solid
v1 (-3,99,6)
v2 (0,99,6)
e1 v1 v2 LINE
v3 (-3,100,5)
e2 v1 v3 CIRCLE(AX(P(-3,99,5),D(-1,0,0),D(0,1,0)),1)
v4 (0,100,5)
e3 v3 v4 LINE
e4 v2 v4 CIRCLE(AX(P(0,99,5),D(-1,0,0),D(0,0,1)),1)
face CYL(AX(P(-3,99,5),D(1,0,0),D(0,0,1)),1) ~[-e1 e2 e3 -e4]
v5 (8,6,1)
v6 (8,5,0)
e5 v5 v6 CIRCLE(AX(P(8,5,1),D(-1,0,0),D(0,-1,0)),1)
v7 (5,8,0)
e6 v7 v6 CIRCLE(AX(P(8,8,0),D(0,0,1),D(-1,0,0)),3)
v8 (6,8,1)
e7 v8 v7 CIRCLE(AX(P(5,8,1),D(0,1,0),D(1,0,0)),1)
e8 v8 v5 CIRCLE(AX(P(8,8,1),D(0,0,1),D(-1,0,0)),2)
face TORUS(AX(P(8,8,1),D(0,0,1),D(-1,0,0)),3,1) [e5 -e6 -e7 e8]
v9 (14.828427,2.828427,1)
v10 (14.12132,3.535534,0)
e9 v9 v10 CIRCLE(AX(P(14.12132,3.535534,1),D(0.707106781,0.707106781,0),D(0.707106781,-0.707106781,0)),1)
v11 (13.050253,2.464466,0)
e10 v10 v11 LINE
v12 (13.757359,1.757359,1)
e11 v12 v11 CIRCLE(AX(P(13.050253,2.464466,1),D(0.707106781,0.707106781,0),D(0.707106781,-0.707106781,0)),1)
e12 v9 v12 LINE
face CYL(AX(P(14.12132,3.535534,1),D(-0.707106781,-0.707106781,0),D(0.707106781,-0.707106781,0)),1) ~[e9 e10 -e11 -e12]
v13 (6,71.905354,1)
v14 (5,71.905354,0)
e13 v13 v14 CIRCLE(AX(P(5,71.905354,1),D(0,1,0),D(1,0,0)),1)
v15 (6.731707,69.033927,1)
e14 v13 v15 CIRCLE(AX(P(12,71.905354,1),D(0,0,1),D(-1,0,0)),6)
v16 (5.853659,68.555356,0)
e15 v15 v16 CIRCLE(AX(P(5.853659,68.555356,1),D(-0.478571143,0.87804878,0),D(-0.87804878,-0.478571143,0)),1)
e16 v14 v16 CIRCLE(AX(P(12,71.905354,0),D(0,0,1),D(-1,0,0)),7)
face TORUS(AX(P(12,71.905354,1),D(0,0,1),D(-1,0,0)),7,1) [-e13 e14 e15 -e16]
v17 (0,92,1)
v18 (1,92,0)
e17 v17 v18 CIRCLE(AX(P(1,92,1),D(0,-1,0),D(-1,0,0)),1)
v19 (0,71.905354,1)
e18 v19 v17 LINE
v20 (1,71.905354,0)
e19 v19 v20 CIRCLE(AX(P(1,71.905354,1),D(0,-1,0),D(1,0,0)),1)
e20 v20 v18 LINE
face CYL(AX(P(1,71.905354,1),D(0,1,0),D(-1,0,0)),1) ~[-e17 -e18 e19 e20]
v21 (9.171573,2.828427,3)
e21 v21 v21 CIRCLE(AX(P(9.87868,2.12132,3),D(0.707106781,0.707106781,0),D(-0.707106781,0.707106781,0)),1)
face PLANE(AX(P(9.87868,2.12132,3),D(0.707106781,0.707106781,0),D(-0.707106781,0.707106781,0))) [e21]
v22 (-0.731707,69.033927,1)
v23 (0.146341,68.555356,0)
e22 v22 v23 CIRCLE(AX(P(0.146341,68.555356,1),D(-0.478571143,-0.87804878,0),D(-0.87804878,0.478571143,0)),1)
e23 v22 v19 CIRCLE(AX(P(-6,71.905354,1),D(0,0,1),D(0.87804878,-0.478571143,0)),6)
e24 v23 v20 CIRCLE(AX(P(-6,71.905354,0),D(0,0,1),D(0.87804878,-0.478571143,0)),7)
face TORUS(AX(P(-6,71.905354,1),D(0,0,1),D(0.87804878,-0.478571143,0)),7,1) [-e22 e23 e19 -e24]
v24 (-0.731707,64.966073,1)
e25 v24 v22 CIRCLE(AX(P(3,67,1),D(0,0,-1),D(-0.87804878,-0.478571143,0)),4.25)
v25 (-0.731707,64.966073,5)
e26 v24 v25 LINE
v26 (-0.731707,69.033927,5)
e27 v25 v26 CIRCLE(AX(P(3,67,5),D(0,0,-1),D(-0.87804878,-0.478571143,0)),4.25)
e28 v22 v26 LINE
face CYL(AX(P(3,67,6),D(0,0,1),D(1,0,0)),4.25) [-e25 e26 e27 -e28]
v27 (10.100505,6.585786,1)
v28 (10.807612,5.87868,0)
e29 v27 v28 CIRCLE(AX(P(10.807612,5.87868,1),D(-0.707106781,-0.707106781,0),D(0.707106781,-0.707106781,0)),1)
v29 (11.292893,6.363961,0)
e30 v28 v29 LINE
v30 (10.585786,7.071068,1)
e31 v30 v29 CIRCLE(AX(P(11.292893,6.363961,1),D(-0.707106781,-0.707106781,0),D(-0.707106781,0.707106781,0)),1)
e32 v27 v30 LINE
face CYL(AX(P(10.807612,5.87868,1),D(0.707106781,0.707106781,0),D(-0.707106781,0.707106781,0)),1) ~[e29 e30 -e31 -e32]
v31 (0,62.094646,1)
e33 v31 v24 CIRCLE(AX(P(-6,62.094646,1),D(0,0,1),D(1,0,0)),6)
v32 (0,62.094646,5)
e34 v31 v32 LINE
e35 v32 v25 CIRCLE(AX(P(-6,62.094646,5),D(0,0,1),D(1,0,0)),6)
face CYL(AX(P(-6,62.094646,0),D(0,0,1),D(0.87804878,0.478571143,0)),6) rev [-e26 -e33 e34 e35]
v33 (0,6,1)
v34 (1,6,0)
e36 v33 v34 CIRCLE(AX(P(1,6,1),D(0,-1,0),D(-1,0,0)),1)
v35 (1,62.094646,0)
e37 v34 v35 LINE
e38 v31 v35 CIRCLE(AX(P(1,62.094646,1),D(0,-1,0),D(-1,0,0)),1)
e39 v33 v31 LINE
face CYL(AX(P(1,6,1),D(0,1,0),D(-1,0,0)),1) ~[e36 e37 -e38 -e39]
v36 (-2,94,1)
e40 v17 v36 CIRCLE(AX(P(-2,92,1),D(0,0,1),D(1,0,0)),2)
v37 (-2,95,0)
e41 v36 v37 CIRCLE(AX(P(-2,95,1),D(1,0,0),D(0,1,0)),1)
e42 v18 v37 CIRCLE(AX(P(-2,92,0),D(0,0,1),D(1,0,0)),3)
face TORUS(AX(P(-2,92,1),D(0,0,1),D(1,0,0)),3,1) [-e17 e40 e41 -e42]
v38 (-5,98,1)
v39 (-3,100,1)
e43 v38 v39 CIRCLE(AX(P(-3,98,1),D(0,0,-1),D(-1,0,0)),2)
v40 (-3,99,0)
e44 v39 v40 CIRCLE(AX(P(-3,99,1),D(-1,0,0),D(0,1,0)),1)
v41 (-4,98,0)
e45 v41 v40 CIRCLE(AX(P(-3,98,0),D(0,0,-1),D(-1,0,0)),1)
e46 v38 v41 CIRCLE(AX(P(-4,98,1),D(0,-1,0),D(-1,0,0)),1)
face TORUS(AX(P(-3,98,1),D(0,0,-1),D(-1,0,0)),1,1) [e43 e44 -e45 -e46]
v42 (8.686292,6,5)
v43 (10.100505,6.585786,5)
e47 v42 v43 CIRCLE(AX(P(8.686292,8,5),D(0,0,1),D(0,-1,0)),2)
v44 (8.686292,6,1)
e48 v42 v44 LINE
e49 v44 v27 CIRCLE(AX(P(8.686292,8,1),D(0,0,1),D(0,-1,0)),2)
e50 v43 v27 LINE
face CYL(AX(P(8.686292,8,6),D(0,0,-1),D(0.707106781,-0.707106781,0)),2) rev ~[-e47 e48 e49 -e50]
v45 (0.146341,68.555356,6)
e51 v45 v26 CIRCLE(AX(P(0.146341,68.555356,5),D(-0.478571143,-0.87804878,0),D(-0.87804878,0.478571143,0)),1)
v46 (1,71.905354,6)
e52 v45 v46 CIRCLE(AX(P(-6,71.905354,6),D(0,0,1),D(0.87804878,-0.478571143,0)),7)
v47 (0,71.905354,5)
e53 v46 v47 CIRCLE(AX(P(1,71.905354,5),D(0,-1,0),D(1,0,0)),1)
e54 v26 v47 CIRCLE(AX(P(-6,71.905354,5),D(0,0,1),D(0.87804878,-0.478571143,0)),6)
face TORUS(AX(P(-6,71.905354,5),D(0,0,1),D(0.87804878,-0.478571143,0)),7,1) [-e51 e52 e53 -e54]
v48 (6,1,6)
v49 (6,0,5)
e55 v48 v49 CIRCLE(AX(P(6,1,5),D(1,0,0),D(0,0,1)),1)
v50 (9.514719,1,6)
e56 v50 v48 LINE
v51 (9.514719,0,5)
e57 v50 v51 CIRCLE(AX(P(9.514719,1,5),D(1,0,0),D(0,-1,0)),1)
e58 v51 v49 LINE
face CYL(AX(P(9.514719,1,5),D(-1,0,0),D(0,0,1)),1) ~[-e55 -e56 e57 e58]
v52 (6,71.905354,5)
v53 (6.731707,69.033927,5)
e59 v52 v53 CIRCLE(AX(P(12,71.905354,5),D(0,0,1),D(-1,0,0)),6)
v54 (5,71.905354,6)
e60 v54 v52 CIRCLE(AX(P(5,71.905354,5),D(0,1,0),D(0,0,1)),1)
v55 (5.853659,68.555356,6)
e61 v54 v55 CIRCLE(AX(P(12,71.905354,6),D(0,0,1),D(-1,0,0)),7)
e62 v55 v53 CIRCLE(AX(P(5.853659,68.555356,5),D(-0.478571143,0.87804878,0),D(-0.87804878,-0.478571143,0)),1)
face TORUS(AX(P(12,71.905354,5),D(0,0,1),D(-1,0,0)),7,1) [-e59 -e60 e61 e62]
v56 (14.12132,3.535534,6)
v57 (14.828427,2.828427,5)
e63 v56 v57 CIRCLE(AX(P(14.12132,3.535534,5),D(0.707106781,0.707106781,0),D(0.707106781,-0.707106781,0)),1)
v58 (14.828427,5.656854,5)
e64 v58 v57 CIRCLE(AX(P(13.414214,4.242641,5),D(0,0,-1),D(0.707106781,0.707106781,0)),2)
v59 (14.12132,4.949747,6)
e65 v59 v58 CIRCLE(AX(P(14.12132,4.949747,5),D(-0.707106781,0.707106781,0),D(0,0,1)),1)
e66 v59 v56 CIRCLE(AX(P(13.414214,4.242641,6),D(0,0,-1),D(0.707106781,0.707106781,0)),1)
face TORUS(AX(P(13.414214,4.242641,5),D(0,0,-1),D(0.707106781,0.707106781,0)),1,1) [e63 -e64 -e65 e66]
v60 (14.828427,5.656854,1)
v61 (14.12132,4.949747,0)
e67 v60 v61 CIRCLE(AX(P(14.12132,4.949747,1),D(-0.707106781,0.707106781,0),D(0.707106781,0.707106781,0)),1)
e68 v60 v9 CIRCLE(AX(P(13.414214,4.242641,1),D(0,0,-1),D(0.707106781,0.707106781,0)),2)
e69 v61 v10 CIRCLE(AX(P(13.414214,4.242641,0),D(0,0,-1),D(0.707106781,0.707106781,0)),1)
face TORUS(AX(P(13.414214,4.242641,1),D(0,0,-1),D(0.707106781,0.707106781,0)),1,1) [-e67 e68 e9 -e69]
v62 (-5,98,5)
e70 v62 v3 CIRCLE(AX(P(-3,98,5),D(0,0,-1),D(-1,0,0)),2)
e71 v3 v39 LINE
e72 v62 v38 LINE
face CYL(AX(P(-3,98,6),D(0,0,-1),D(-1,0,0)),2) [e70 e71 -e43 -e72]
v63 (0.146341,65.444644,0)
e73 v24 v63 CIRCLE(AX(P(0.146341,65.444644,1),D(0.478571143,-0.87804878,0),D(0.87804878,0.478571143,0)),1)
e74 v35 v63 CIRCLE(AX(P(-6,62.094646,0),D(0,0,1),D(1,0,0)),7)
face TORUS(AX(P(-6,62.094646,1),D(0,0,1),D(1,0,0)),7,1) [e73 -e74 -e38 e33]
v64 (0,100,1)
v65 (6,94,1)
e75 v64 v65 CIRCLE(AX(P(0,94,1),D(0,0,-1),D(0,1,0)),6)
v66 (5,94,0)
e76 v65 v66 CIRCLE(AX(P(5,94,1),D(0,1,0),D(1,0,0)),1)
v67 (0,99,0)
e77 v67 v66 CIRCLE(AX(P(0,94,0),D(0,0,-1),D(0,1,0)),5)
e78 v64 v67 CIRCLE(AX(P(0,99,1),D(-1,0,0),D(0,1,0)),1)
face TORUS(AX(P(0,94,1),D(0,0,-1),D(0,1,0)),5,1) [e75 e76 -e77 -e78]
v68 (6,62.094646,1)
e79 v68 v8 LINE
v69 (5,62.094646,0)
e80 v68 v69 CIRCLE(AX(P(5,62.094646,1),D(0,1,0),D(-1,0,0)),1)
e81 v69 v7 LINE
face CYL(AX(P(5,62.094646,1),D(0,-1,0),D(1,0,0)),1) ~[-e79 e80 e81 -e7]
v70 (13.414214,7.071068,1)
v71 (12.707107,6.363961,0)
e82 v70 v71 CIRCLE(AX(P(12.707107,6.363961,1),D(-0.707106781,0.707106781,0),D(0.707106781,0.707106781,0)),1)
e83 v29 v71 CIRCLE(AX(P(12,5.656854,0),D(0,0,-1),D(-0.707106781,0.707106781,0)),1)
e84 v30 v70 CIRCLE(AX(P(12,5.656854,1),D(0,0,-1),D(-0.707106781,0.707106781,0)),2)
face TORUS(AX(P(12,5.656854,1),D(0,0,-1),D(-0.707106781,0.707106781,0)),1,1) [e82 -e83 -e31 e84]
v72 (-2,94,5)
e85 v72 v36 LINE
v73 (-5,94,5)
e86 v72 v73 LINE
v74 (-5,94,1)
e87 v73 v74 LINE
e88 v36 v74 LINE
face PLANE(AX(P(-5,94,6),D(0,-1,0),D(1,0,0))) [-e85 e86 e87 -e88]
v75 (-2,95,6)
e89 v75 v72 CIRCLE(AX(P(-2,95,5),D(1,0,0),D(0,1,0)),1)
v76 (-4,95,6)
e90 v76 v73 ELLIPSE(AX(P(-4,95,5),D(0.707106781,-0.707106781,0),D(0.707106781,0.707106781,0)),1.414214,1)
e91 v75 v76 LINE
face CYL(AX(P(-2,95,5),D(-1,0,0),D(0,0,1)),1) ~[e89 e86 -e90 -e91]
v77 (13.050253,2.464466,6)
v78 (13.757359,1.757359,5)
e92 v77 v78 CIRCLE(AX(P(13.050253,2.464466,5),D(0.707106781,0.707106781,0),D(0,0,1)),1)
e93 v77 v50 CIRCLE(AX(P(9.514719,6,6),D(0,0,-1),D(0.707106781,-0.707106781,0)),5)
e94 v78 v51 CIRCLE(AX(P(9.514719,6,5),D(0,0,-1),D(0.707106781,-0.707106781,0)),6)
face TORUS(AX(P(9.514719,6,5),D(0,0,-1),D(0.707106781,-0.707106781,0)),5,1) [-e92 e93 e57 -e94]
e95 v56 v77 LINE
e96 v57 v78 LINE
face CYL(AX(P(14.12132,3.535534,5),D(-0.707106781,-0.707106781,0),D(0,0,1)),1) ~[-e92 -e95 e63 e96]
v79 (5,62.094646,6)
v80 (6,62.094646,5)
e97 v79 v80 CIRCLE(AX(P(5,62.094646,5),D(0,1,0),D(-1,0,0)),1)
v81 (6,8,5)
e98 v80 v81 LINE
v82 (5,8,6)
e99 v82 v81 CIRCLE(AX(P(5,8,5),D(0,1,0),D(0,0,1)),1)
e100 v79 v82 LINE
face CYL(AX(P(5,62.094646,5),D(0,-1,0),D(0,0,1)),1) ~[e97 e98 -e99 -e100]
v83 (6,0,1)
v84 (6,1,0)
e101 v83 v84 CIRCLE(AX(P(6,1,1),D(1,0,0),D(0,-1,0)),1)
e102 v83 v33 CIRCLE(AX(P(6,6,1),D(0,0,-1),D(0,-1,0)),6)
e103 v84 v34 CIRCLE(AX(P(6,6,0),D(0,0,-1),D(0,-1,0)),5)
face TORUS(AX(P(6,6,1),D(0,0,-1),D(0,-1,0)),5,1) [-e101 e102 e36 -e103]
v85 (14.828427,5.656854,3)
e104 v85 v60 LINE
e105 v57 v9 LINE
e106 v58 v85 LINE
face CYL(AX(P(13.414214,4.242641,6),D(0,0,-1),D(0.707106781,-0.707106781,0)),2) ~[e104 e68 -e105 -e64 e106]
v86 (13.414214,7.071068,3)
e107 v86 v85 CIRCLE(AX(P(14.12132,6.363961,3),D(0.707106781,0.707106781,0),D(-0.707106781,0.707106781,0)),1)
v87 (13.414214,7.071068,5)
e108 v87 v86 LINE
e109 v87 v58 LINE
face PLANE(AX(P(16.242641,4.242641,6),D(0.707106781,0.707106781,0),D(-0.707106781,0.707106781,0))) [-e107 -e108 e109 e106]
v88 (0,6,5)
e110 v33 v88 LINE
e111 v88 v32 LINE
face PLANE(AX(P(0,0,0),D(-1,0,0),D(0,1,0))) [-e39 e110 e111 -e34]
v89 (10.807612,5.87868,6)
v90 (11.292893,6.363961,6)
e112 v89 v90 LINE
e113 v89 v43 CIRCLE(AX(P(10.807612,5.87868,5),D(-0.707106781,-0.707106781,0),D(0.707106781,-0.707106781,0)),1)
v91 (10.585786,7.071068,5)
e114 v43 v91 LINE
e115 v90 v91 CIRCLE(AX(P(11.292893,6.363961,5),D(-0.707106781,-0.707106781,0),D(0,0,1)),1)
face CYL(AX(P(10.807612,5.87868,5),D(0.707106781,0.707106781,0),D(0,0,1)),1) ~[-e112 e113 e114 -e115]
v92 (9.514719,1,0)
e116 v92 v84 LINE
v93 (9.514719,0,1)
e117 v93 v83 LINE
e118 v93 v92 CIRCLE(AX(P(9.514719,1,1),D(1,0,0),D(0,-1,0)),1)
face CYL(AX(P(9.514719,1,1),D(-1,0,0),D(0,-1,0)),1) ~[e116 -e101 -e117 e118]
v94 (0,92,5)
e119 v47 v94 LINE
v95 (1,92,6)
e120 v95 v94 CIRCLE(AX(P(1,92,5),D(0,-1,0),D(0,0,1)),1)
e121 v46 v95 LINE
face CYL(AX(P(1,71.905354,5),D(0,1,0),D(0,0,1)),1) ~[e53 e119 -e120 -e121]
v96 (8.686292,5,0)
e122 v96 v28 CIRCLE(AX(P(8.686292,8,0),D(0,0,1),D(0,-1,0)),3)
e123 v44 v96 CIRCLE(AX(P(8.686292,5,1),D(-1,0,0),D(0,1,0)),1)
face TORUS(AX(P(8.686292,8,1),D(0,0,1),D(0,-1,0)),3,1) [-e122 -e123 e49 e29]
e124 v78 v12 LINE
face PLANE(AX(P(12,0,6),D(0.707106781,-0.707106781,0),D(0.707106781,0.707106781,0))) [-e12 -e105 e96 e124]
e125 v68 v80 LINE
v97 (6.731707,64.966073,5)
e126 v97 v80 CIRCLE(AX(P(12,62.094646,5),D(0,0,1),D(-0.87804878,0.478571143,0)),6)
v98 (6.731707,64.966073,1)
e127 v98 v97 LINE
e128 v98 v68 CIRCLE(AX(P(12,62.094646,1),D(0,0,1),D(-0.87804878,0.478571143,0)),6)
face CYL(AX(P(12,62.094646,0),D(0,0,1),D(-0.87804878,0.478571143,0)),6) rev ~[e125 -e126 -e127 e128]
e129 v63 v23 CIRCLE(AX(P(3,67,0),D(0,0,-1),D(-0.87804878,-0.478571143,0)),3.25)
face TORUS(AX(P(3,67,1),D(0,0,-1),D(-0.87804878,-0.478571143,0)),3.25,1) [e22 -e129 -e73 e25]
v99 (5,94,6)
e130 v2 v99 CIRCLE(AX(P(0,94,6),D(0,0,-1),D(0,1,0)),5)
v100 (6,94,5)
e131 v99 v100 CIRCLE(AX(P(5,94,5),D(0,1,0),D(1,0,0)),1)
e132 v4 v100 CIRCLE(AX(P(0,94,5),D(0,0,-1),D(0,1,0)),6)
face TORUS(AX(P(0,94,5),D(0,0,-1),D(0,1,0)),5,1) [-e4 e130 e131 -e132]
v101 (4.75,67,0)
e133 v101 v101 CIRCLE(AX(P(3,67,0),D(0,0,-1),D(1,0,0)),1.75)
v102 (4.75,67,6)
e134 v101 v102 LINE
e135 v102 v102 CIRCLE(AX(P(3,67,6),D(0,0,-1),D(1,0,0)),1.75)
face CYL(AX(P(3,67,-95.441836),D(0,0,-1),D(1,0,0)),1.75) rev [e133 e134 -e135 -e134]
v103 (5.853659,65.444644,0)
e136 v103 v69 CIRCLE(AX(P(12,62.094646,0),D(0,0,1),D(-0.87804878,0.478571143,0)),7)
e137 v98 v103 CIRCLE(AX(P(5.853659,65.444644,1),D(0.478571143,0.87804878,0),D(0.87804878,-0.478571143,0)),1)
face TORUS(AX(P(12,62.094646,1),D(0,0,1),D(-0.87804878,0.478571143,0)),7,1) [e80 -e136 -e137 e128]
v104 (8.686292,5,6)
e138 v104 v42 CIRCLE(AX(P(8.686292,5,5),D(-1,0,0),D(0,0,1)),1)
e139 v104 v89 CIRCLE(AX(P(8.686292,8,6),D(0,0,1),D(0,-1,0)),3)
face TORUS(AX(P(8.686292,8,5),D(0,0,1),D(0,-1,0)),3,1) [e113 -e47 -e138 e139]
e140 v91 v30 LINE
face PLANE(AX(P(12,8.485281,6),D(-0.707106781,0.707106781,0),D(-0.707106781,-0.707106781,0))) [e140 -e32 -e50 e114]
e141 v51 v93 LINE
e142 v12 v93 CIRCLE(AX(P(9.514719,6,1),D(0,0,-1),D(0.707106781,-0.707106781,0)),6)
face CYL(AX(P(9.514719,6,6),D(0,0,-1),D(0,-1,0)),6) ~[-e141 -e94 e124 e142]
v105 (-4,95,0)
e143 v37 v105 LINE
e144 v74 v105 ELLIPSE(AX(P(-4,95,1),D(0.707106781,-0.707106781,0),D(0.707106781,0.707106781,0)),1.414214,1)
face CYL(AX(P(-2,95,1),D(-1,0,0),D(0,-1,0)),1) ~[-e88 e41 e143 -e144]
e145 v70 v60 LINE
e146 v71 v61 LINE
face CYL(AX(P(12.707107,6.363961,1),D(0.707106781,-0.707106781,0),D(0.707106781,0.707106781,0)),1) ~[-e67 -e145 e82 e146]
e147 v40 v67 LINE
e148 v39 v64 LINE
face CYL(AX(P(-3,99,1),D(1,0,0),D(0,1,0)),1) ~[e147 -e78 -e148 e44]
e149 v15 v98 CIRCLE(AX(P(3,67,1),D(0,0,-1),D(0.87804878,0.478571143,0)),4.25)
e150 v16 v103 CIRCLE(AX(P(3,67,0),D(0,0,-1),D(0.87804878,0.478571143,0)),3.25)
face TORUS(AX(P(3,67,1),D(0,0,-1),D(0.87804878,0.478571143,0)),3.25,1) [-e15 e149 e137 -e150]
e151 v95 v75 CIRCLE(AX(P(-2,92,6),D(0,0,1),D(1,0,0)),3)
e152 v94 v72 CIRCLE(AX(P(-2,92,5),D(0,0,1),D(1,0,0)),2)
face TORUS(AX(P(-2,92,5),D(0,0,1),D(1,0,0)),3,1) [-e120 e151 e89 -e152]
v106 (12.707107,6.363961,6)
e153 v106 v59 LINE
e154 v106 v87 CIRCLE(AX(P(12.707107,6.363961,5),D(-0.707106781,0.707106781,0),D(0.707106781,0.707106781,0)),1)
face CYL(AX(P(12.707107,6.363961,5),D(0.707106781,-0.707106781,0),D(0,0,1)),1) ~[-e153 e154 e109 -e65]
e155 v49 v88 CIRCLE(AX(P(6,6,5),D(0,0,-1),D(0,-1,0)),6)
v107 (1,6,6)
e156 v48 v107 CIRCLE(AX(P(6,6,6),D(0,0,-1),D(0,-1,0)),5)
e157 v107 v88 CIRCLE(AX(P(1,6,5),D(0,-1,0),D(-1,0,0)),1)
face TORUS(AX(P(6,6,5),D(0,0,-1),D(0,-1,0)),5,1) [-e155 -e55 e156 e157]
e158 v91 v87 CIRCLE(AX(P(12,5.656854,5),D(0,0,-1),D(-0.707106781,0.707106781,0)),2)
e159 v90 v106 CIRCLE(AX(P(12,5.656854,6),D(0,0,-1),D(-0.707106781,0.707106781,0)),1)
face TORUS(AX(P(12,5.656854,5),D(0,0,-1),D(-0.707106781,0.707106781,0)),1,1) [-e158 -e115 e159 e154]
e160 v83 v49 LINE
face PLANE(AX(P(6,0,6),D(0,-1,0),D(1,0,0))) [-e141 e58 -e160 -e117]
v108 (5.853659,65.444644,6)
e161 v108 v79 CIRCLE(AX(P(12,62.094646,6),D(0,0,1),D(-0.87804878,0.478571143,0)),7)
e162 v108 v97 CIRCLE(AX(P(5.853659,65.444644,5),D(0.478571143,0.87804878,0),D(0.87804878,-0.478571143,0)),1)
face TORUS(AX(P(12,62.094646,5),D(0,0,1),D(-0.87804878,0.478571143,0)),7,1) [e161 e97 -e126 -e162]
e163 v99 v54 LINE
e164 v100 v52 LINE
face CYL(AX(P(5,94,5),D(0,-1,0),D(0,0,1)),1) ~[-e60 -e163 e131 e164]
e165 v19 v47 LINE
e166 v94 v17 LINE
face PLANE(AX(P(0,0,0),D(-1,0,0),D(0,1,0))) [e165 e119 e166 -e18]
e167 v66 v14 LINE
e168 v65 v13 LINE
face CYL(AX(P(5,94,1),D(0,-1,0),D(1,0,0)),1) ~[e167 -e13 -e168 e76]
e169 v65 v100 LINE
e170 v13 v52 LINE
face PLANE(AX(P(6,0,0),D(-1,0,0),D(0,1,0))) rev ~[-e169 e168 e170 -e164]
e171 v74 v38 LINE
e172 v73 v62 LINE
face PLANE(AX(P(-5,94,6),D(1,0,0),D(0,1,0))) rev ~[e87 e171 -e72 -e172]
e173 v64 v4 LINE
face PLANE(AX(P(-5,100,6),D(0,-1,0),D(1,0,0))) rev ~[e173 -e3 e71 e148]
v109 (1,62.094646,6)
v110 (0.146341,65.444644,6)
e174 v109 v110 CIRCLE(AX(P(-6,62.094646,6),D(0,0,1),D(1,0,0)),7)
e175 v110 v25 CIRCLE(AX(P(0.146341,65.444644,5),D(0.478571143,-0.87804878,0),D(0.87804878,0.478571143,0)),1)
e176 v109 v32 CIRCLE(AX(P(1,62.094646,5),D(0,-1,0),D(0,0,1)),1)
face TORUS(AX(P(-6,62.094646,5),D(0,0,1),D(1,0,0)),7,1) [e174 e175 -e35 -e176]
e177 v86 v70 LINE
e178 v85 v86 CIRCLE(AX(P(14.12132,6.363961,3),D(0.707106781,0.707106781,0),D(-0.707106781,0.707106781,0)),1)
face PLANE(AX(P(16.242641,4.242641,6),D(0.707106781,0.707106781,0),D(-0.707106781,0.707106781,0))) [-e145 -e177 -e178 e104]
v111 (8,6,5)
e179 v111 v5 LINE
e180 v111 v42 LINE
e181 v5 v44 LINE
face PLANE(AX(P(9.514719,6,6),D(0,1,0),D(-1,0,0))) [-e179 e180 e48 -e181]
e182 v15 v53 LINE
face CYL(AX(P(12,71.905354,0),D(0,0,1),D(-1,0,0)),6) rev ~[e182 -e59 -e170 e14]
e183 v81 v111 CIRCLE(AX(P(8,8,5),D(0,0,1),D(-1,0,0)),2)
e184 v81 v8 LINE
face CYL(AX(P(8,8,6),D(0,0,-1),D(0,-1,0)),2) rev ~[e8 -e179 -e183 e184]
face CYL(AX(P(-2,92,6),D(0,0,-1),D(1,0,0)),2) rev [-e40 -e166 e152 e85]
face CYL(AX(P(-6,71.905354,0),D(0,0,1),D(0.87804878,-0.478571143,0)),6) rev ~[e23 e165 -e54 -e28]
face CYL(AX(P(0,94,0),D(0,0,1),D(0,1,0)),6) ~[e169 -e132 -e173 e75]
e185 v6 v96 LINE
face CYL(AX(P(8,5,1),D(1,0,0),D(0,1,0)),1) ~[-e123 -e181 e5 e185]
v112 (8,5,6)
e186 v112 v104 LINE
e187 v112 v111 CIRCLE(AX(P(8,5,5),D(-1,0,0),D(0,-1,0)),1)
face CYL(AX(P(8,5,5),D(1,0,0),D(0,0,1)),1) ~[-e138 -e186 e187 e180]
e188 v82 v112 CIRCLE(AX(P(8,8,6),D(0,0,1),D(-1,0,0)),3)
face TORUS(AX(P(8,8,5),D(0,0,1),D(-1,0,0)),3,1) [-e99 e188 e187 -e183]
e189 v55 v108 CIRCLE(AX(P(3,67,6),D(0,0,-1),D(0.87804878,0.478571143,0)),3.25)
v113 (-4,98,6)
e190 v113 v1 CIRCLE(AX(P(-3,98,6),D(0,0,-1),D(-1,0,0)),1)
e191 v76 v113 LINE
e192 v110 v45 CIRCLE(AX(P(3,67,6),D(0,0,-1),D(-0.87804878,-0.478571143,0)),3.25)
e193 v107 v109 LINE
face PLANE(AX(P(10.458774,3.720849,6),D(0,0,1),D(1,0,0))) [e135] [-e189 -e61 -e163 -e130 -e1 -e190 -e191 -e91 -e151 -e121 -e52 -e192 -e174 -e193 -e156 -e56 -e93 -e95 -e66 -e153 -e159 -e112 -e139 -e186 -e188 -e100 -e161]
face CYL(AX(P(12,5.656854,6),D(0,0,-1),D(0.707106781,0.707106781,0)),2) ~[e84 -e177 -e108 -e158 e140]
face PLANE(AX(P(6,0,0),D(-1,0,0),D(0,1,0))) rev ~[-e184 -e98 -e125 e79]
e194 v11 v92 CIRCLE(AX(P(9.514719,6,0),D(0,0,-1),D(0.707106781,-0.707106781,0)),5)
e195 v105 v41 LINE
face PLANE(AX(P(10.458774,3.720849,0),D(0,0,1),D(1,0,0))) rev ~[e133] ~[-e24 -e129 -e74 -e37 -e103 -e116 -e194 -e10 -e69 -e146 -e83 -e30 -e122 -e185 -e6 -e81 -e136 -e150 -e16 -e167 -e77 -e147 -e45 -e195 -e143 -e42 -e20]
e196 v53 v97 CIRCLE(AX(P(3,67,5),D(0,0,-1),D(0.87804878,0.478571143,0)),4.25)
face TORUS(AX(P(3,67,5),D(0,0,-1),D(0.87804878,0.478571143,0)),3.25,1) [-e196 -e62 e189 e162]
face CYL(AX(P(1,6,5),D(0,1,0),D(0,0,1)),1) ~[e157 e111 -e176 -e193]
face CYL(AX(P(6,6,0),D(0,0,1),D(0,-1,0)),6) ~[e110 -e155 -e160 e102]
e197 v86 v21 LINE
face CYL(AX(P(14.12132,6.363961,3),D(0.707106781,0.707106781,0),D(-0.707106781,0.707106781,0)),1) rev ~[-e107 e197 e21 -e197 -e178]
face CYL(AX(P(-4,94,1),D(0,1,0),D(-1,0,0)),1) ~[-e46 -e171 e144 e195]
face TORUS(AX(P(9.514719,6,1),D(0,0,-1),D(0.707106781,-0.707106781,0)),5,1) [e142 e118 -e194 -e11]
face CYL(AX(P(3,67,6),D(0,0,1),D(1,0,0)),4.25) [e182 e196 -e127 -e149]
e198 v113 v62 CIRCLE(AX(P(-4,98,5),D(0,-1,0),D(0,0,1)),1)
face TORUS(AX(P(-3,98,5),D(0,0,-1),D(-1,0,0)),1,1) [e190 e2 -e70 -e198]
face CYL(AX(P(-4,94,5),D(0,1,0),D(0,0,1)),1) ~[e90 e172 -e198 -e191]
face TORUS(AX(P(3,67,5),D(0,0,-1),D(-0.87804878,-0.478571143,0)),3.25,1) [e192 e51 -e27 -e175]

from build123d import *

# Parameters (mm, degrees)
ESQUISSE1_W                  = 6
ESQUISSE1_H                  = 100
BOSS_EXTRU_1_DEPTH           = 6
ESQUISSE2_W                  = 5
ESQUISSE2_H                  = 6
BOSS_EXTRU_2_DEPTH           = 6
ESQUISSE3_R                  = 4.25
ESQUISSE3_R_2                = 1.75
BOSS_EXTRU_3_DEPTH           = 6
ENL_V_MAT_EXTRU_1_DEPTH      = 101.441836403
ENL_V_MAT_EXTRU_1_DEPTH_BACK = 101.441836403
ESQUISSE4_R                  = 1.75
BOSS_EXTRU_4_DEPTH           = 6
CONG_1_R                     = 6
CONG_2_R                     = 2
ESQUISSE6_R                  = 1
ENL_V_MAT_EXTRU_3_DEPTH      = 6
CONG_3_R                     = 1


with BuildPart() as part:
    # Esquisse1 → Boss.-Extru.1 (new body)
    with BuildSketch(Plane.XY):
        with Locations((3, 50)):
            Rectangle(ESQUISSE1_W, ESQUISSE1_H)
    extrude(amount=BOSS_EXTRU_1_DEPTH)

    # Esquisse2 → Boss.-Extru.2 (add)
    with BuildSketch(Plane.XY.offset(6)):
        with Locations((-2.5, 97)):
            Rectangle(ESQUISSE2_W, ESQUISSE2_H)
    extrude(amount=-BOSS_EXTRU_2_DEPTH)

    # Esquisse3 → Boss.-Extru.3 (add)
    with BuildSketch(Plane.XY.offset(6)):
        with Locations((3, 67)):
            Circle(ESQUISSE3_R)
        with Locations((3, 67)):
            Circle(ESQUISSE3_R_2, mode=Mode.SUBTRACT)
    extrude(amount=-BOSS_EXTRU_3_DEPTH)

    # Esquisse4 → Enlèv. mat.-Extru.1 (cut, two sides: drawn at the far end of the back side and taken through both)
    with BuildSketch(Plane.XY.offset(6).offset(-ENL_V_MAT_EXTRU_1_DEPTH_BACK)):
        with Locations((3, 67)):
            Circle(ESQUISSE4_R)
    extrude(amount=ENL_V_MAT_EXTRU_1_DEPTH + ENL_V_MAT_EXTRU_1_DEPTH_BACK, mode=Mode.SUBTRACT)

    # Esquisse5 → Boss.-Extru.4 (add)
    with BuildSketch(Plane.XY.offset(6)):
        Polygon((6, 0), (12, 0), (16.242640687, 4.242640687), (12, 8.485281374), (9.514718626, 6), (6, 6), align=None)
    extrude(amount=-BOSS_EXTRU_4_DEPTH)

    # Congé1
    cong_1_edges = [part.edges().sort_by_distance(p)[0] for p in [
        (0, 70.010398645, 3),
        (6, 70.010398645, 3),
        (0, 63.989601355, 3),
        (6, 63.989601355, 3),
        (12, 0, 3),
        (6, 100, 3),
        (0, 0, 3),
    ]]
    fillet(cong_1_edges, radius=CONG_1_R)

    # Congé2
    cong_2_edges = [part.edges().sort_by_distance(p)[0] for p in [
        (0, 94, 3),
        (-5, 100, 3),
        (6, 6, 3),
        (9.514718626, 6, 3),
        (12, 8.485281374, 3),
        (16.242640687, 4.242640687, 3),
    ]]
    fillet(cong_2_edges, radius=CONG_2_R)

    # Esquisse6 → Enlèv. mat.-Extru.3 (cut)
    with BuildSketch(Plane(origin=(10.242640687, 10.242640687, 0), x_dir=(0, 0, -1), z_dir=(0.7071067811865458, 0.7071067811865492, 0))):
        with Locations(Location((-3, -5.485281374, 0), (0, 0, 90))):
            Circle(ESQUISSE6_R)
    extrude(amount=-ENL_V_MAT_EXTRU_3_DEPTH, mode=Mode.SUBTRACT)

    # Congé3
    cong_3_edges = [part.edges().sort_by_distance(p)[0] for p in [
        (0, 81.952677109, 0),
        (0, 81.952677109, 6),
        (-5, 96, 6),
        (14.121320344, 6.363961031, 6),
        (10.343145751, 6.828427125, 6),
        (8.343145751, 6, 6),
        (6, 35.047322891, 6),
        (12, 7.656854249, 6),
        (15.414213562, 4.242640687, 6),
        (-4.414213562, 99.414213562, 6),
        (-5, 96, 0),
        (6, 35.047322891, 0),
        (8.343145751, 6, 0),
        (10.343145751, 6.828427125, 0),
        (14.121320344, 6.363961031, 0),
        (12, 7.656854249, 0),
        (15.414213562, 4.242640687, 0),
        (-4.414213562, 99.414213562, 0),
        (-0.585786438, 93.414213562, 6),
        (-0.585786438, 93.414213562, 0),
        (9.451658366, 6.152240935, 6),
        (9.451658366, 6.152240935, 0),
        (6.585786438, 6.585786438, 6),
        (6.585786438, 6.585786438, 0),
        (-3.5, 94, 0),
        (-3.5, 94, 6),
        (0, 34.047322891, 6),
        (0, 34.047322891, 0),
        (-1.25, 67, 0),
        (-1.25, 67, 6),
        (7.25, 67, 0),
        (7.25, 67, 6),
        (6, 82.952677109, 6),
        (6, 82.952677109, 0),
        (-1.5, 100, 0),
        (-1.5, 100, 6),
        (14.292893219, 2.292893219, 0),
        (7.757359313, 0, 0),
        (1.757359313, 1.757359313, 0),
        (11.81081922, 0.456722805, 0),
        (4.242640687, 98.242640687, 0),
        (7.757359313, 0, 6),
        (14.292893219, 2.292893219, 6),
        (1.757359313, 1.757359313, 6),
        (11.81081922, 0.456722805, 6),
        (4.242640687, 98.242640687, 6),
        (-0.185803749, 63.576240177, 0),
        (-0.185803749, 63.576240177, 6),
        (-0.185803749, 70.423759823, 6),
        (-0.185803749, 70.423759823, 0),
        (6.185803749, 63.576240177, 6),
        (6.185803749, 63.576240177, 0),
        (6.185803749, 70.423759823, 0),
        (6.185803749, 70.423759823, 6),
    ]]
    fillet(cong_3_edges, radius=CONG_3_R)


solid = part.part
